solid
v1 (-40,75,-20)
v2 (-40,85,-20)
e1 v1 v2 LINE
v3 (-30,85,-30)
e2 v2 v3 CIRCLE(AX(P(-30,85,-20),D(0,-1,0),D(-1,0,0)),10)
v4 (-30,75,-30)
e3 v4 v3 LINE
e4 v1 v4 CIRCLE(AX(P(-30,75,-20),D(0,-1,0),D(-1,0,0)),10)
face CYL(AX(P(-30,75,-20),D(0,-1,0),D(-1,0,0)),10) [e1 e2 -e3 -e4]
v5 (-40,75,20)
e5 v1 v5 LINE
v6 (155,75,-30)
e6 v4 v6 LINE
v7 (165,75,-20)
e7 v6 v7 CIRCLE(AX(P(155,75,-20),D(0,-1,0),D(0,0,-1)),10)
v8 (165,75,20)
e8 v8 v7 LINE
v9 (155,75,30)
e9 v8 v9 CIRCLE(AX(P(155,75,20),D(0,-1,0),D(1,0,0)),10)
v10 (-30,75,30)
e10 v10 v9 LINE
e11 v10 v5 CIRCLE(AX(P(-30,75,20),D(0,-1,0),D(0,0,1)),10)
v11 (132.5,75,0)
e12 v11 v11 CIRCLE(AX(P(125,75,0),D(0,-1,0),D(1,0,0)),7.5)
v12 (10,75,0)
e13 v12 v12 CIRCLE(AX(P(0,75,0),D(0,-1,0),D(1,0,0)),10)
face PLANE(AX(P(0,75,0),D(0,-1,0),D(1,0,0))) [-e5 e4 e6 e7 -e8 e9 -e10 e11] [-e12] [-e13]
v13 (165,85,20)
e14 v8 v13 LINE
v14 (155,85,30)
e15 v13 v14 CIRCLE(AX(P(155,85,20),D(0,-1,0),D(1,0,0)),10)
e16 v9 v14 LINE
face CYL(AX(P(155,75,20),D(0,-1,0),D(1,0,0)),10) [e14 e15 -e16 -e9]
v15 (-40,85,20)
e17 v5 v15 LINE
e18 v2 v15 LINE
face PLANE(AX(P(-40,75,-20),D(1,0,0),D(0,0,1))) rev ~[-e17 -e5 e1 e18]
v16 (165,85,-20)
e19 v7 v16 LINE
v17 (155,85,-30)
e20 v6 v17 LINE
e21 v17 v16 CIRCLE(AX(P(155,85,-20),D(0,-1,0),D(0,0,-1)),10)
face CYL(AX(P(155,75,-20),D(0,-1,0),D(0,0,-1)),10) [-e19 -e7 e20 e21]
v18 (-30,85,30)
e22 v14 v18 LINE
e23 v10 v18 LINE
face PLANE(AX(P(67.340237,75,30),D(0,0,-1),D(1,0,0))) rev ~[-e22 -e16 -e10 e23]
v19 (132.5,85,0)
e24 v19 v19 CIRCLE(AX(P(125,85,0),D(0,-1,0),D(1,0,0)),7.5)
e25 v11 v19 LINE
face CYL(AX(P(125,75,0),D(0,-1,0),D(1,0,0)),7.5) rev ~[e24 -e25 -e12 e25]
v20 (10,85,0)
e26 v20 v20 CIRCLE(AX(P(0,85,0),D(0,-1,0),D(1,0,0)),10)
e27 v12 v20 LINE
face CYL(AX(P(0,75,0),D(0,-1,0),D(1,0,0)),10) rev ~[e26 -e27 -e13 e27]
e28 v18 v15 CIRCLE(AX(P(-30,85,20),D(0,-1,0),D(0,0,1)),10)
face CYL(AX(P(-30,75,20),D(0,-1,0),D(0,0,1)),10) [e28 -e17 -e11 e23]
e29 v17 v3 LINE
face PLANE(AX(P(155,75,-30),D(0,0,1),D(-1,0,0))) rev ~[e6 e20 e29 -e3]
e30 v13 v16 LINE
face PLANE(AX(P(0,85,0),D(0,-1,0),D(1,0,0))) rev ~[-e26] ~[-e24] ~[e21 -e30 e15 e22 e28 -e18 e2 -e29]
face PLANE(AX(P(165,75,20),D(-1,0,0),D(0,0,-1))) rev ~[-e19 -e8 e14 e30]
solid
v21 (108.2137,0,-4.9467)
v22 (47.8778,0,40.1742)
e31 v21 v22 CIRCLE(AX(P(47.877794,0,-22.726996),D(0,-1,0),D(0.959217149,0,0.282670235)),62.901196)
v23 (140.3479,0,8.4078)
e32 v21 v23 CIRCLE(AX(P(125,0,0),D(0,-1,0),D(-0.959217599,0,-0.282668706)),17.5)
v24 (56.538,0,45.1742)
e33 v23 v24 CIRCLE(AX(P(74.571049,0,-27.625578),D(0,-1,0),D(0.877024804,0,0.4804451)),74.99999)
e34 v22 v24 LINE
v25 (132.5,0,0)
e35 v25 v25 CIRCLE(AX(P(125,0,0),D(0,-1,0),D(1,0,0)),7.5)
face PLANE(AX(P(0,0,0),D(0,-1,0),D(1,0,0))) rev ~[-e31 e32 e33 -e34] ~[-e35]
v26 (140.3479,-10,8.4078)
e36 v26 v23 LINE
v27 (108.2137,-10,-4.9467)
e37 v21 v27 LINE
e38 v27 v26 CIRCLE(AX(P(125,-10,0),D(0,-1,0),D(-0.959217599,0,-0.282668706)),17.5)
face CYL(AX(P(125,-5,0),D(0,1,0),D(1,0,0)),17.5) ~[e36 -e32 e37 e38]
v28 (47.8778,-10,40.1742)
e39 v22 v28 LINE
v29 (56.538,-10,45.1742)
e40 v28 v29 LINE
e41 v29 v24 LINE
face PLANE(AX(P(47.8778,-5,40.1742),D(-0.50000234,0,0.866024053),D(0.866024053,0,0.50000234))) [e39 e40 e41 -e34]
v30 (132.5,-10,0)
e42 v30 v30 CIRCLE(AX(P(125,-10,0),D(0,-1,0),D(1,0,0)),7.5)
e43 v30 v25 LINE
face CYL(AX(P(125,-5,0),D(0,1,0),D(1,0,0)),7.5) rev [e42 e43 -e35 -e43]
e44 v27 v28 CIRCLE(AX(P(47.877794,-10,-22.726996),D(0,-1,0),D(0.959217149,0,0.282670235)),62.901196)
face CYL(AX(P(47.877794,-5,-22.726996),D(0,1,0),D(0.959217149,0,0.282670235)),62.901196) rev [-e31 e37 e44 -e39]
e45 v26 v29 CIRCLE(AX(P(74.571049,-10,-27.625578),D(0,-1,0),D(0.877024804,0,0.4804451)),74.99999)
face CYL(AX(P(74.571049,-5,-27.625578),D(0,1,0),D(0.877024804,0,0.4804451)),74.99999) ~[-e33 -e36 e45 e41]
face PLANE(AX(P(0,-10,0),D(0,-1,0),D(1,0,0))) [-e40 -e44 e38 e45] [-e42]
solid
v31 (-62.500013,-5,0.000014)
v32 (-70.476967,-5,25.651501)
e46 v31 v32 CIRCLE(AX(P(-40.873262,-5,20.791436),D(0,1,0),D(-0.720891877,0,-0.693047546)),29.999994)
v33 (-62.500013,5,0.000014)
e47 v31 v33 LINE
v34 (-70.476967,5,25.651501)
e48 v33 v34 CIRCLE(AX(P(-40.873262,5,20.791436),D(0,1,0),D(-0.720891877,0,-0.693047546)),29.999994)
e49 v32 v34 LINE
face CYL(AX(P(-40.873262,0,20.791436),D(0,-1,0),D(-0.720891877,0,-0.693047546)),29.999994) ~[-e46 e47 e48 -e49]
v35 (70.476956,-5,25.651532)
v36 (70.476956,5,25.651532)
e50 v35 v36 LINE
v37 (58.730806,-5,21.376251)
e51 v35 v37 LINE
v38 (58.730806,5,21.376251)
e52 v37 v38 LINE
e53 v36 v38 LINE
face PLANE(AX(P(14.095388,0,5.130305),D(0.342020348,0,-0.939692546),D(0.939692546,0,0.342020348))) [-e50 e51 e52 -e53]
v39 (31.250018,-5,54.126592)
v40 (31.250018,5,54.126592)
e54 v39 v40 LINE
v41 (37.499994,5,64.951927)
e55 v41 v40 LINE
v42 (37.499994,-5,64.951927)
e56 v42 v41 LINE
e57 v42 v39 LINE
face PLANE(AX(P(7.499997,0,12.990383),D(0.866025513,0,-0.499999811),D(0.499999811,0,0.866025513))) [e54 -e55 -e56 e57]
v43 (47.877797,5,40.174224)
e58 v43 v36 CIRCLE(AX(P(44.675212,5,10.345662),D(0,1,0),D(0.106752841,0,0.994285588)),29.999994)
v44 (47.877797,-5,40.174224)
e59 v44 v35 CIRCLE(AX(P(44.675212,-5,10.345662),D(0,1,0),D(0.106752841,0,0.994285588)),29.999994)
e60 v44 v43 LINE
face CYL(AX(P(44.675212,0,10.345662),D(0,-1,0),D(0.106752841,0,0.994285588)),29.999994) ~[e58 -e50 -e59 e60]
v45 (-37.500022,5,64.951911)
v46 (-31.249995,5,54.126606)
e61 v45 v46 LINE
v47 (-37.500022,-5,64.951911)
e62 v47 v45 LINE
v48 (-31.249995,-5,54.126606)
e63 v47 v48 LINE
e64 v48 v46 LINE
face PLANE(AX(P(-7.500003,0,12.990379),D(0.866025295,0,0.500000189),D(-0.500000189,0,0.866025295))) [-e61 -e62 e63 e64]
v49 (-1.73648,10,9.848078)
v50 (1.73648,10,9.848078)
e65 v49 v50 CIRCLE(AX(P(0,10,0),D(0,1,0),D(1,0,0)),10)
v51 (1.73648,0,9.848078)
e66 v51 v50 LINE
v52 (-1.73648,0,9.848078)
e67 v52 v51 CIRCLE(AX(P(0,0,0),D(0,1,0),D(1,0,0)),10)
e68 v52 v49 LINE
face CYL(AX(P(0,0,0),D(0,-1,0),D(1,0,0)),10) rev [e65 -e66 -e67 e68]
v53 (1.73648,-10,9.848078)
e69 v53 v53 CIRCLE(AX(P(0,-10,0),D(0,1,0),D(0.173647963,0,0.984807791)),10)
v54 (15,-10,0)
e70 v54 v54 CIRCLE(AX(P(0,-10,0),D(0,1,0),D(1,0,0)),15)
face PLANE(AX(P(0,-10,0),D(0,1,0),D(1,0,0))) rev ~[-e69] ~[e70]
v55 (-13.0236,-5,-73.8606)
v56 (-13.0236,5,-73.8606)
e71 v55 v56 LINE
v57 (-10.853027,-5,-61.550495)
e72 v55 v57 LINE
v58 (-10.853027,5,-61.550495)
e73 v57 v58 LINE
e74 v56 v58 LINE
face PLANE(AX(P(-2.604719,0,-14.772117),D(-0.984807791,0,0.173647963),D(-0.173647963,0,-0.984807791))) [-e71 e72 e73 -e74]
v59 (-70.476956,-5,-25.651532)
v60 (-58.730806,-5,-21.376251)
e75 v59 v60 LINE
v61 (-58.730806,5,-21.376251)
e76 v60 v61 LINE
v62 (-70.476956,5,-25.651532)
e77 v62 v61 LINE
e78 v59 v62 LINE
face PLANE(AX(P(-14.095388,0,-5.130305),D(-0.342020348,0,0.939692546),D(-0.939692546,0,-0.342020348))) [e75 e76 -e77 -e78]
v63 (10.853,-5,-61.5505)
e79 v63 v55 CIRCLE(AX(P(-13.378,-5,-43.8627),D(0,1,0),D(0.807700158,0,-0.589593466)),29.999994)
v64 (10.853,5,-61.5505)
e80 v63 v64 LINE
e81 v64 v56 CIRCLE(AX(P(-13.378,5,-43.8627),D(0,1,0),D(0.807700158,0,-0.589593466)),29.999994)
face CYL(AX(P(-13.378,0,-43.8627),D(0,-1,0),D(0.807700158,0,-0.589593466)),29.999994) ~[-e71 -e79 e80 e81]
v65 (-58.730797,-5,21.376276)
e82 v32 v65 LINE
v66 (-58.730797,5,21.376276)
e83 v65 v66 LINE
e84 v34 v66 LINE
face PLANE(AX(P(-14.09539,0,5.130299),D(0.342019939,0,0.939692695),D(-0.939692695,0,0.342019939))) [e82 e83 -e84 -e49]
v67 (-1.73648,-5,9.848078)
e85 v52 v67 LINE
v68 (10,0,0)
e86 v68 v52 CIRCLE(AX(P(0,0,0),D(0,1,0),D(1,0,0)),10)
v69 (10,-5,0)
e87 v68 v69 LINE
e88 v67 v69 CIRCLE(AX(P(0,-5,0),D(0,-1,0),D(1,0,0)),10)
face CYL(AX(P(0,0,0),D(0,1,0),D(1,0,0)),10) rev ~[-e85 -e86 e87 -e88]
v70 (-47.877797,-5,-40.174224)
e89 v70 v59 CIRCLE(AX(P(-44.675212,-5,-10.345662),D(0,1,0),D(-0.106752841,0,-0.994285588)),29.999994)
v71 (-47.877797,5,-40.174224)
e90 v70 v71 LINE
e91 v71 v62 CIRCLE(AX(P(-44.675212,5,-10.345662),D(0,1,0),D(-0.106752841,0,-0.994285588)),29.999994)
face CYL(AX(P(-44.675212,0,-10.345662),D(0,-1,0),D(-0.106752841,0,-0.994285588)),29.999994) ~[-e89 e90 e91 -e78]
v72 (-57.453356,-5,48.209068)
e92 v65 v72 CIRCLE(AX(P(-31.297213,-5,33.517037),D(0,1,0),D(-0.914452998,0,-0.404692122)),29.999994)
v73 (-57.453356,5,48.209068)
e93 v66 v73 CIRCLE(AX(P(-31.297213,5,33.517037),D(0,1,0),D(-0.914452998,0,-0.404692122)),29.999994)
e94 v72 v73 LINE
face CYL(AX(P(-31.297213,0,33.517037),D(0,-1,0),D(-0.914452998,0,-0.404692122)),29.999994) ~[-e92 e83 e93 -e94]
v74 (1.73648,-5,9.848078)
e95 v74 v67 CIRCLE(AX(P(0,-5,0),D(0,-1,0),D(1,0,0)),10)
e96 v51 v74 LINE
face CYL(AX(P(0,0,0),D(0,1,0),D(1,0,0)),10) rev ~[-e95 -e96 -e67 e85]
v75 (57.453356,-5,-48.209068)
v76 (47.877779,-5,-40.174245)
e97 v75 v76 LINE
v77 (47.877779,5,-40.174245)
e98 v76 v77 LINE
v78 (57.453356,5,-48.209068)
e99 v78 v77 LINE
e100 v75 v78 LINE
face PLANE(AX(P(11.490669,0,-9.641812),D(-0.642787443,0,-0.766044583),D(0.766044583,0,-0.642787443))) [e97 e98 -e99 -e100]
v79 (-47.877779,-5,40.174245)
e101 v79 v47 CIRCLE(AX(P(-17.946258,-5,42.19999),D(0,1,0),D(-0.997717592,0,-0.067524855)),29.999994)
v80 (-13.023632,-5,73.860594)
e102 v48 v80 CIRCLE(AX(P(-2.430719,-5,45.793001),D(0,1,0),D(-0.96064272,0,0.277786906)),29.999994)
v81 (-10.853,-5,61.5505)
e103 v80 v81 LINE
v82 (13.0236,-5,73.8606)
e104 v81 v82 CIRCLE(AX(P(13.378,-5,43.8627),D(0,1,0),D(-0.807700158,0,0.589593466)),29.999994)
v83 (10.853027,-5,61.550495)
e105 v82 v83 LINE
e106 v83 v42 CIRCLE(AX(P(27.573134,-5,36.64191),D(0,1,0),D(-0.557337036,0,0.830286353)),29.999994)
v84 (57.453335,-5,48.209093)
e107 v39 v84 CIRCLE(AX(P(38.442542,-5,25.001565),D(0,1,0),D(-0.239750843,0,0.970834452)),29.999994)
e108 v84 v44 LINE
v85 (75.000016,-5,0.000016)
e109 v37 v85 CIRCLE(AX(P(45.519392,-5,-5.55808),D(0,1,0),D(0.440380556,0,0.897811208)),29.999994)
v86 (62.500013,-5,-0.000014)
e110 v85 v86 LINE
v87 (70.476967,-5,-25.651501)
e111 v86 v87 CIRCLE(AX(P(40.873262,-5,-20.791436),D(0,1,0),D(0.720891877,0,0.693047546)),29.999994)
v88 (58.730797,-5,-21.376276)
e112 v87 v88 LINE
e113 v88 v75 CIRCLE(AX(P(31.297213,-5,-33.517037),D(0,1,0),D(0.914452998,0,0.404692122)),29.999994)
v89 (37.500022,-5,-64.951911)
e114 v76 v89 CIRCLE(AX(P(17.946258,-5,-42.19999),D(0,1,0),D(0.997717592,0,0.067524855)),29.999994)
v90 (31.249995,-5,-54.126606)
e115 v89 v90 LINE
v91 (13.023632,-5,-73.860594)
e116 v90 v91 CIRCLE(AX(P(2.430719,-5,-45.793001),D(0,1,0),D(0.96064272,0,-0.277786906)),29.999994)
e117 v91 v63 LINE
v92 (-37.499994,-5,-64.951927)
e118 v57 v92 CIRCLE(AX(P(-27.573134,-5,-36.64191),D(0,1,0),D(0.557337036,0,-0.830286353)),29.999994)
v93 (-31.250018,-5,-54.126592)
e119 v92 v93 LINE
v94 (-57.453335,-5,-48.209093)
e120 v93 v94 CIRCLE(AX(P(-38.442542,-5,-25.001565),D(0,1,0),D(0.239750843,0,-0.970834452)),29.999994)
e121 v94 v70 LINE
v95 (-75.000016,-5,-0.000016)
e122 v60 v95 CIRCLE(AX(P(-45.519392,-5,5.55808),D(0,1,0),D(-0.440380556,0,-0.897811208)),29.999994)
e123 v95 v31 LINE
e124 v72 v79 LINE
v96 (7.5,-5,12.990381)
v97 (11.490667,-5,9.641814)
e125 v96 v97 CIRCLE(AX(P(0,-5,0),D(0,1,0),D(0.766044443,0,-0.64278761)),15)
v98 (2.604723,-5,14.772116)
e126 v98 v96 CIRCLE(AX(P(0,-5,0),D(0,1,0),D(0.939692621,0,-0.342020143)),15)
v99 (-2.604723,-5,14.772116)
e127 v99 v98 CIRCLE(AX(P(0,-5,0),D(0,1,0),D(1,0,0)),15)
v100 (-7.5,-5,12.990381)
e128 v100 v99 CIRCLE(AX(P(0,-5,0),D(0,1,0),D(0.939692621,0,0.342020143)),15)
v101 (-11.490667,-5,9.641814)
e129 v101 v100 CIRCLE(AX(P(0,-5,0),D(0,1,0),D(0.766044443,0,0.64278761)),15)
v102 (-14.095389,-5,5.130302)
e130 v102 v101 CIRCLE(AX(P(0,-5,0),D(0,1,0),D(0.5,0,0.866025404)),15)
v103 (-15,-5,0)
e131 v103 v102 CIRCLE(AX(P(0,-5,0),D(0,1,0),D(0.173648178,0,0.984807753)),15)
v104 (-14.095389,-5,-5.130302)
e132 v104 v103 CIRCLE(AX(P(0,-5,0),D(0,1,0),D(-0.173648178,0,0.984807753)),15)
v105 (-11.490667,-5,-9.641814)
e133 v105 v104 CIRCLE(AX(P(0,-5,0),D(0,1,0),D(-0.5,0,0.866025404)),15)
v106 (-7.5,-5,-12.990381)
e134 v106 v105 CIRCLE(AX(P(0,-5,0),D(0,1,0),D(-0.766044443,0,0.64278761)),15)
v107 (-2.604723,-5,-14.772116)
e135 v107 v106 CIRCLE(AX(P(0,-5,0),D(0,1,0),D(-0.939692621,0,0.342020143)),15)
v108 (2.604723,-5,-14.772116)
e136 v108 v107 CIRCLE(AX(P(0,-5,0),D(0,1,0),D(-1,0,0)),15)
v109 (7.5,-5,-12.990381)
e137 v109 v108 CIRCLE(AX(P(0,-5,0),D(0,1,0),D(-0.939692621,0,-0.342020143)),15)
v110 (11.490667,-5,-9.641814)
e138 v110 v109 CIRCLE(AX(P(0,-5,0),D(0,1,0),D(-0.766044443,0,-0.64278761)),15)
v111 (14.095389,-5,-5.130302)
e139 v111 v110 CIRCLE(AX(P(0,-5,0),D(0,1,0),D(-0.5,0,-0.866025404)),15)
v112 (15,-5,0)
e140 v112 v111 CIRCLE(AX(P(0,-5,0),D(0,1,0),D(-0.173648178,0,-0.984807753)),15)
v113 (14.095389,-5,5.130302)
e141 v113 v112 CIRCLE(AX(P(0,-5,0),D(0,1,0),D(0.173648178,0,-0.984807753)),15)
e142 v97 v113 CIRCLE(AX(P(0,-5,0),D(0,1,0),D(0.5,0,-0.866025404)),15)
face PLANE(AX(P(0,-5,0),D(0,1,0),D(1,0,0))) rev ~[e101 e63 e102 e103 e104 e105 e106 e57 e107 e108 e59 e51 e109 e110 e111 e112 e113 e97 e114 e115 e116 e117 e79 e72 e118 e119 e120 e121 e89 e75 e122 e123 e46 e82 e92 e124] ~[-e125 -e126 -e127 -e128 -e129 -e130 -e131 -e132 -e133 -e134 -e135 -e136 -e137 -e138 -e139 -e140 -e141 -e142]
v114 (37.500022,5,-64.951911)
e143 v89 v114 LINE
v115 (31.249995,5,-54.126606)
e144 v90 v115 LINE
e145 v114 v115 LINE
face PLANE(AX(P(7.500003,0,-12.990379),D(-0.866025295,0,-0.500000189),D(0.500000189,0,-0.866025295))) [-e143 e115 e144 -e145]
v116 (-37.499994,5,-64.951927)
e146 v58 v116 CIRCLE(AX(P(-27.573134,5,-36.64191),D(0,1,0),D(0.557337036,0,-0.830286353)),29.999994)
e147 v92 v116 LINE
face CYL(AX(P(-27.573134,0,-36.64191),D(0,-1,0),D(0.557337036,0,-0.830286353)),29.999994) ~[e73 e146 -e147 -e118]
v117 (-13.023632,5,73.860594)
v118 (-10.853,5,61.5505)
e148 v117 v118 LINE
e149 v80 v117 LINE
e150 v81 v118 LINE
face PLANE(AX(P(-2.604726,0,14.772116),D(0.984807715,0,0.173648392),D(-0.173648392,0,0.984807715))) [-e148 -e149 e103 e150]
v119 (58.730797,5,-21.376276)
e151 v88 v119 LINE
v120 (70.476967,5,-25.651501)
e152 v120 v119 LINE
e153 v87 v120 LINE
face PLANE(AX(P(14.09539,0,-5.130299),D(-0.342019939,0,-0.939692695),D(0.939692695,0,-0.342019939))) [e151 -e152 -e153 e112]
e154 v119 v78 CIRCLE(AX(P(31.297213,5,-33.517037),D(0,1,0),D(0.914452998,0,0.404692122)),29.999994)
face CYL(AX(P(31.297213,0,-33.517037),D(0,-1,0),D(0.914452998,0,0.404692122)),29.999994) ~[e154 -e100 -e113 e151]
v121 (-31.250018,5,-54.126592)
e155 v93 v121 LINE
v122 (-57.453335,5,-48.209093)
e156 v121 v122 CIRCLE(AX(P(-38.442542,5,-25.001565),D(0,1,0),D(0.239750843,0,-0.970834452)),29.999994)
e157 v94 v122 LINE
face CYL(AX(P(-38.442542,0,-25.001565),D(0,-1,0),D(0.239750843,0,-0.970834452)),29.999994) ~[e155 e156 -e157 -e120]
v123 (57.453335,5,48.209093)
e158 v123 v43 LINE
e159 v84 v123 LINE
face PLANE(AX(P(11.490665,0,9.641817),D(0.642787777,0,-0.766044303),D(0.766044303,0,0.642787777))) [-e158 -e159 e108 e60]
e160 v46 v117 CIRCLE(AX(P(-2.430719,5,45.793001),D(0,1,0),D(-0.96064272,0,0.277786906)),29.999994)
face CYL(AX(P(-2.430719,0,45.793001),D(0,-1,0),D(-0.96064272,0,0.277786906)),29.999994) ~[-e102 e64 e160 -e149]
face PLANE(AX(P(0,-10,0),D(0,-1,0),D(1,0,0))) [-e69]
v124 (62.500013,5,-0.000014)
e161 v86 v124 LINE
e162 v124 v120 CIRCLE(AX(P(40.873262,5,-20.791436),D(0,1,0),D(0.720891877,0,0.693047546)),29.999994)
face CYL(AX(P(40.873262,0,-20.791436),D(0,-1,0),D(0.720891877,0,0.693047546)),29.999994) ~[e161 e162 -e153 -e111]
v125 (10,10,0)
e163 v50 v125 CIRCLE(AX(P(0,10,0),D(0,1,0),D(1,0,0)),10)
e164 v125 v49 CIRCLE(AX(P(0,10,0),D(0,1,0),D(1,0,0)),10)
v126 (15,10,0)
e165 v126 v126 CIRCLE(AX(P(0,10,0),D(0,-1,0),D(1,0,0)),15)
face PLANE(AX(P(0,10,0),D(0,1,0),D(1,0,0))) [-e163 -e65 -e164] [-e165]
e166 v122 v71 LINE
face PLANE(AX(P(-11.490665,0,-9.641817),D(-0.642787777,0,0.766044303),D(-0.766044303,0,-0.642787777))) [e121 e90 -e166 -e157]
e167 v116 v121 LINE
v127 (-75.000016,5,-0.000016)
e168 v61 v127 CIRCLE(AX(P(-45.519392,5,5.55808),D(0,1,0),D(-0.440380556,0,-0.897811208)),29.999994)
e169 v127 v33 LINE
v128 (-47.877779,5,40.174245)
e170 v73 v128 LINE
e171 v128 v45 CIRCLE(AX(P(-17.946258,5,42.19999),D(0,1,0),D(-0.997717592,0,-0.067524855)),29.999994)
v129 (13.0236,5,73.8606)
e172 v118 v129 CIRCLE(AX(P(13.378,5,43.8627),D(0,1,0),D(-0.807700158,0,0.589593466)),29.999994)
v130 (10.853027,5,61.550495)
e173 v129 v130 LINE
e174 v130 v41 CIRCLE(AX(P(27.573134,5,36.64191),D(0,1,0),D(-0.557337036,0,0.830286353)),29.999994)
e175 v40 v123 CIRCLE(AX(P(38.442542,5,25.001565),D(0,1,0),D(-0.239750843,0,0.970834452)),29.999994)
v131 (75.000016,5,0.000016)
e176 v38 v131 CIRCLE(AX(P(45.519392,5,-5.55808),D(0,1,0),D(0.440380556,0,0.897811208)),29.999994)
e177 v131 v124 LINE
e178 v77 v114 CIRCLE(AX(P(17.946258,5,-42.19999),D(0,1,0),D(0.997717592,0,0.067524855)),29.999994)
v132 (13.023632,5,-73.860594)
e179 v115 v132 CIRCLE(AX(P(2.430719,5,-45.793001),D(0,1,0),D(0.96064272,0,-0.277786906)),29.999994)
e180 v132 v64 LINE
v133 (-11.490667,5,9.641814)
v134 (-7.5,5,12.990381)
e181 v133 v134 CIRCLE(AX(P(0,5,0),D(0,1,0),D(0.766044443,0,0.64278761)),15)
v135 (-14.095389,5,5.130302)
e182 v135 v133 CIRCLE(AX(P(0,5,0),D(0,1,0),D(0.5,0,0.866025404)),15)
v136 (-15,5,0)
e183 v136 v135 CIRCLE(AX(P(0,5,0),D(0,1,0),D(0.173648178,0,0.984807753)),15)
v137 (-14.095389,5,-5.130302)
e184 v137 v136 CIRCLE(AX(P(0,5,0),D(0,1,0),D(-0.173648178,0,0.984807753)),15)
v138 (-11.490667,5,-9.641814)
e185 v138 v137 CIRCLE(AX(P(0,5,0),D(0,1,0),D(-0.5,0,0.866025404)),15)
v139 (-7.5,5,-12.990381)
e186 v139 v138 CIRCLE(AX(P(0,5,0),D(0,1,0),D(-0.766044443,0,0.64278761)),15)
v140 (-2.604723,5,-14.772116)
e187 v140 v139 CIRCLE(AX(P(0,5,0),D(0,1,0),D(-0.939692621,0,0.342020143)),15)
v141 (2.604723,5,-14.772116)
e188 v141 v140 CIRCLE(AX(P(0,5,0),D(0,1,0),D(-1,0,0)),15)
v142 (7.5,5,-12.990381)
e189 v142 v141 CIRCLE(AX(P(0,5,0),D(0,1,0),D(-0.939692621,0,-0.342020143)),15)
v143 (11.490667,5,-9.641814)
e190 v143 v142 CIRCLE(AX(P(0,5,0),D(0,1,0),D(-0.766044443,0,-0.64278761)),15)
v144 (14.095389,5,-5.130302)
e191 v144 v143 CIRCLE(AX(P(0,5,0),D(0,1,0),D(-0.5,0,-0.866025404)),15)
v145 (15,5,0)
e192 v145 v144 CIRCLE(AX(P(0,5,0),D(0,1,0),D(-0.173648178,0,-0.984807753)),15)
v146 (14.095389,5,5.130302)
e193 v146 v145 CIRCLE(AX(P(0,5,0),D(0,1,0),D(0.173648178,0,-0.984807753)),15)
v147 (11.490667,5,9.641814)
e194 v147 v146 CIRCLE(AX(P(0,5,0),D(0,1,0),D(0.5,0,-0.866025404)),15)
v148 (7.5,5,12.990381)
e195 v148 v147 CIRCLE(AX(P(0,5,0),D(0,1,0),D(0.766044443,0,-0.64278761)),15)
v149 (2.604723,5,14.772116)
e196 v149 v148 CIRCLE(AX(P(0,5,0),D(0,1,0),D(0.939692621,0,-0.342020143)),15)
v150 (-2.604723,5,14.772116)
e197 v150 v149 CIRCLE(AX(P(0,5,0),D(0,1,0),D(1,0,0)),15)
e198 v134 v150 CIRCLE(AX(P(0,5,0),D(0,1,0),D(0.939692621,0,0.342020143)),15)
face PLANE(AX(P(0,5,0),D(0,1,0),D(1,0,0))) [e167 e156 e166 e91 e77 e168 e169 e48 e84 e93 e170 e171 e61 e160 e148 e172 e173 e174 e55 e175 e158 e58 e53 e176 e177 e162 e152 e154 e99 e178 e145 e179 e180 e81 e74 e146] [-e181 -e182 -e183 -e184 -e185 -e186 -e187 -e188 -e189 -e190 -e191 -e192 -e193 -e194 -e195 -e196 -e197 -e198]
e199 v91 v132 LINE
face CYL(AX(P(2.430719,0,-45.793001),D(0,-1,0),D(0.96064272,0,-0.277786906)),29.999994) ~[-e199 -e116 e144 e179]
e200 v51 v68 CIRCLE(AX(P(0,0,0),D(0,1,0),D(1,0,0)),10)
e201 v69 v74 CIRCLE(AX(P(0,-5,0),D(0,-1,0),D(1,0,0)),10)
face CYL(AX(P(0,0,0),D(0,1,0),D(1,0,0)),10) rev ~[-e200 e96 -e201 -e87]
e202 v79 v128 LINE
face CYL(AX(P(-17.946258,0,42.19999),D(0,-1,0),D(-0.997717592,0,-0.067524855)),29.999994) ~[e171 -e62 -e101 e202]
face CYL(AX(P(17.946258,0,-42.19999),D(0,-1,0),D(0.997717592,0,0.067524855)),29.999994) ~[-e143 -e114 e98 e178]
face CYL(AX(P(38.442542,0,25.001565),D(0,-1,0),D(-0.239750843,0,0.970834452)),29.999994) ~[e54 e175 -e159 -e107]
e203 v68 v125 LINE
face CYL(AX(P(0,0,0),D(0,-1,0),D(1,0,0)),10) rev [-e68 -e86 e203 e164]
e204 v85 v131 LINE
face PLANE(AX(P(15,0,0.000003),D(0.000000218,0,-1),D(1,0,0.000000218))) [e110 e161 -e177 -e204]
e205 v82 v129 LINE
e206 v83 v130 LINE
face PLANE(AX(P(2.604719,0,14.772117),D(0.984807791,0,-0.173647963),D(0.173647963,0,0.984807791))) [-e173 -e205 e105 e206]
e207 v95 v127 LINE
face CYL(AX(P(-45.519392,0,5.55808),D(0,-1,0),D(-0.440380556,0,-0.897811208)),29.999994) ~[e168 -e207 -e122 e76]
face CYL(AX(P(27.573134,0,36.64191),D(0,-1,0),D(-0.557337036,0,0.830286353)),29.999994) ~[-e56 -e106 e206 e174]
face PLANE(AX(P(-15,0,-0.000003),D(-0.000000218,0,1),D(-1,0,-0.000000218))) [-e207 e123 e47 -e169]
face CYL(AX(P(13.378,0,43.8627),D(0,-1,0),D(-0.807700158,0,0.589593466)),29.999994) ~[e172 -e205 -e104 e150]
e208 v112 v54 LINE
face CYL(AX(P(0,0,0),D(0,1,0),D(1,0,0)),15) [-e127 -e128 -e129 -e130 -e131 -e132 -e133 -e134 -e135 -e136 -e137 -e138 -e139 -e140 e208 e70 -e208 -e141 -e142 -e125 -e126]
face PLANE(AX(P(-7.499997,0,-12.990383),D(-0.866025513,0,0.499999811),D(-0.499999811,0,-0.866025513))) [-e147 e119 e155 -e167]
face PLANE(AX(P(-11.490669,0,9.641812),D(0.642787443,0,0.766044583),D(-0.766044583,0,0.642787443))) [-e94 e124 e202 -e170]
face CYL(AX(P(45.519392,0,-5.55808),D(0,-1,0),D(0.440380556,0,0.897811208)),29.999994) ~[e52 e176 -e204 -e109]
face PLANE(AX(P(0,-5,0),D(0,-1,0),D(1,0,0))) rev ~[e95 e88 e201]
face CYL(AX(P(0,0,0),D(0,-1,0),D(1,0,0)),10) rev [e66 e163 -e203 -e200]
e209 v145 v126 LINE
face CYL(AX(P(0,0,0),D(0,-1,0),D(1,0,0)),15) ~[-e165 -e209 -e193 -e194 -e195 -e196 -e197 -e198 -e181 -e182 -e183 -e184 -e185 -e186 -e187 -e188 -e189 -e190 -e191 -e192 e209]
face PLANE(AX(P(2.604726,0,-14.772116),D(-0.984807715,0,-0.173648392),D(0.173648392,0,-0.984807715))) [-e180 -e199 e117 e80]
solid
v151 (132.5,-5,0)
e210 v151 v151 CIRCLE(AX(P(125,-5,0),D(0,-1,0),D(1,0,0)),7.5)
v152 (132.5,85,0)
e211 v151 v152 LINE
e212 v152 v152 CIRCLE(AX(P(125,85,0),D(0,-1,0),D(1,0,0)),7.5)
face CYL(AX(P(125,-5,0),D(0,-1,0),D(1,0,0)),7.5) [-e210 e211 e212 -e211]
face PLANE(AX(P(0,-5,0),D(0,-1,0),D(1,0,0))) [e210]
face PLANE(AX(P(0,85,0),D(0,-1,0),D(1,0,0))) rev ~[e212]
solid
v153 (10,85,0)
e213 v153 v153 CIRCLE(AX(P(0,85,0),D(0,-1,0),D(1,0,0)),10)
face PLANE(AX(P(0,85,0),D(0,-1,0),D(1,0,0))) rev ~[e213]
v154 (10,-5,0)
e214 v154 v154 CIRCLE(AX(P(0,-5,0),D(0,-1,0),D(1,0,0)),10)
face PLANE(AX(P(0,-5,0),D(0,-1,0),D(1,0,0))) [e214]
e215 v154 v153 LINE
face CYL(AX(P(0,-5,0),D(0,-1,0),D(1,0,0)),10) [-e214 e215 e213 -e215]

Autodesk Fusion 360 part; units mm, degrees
sketch "Sketch1" plane through (0, 0, 0) normal (0, 1, 0) x (1, 0, 0) in component "ratchet"
  circle A0 centre (0, 0) radius 62.5
  circle A1 centre (0, 0) radius 10
  circle A2 centre (0, 0) radius 15
  circle A3 centre (0, 0) radius 75
  line L0 (0, 0) -> (13.0236, -73.8606)
  line L1 (0, 0) -> (75, 0) construction
  line L2 (0, 0) -> (-10.853, -61.5505)
  arc A4 (-10.853, -61.5505) -> (13.0236, -73.8606) centre (13.378, -43.8627) ccw
  dimension "d1" = 125
  dimension "d2" = 20
  dimension "d3" = 30
  dimension "d4" = 12.5
  dimension "d5" = 80
  dimension "d6" = 20
  dimension "d7" = 30
extrude "Extrude1" add sketch "Sketch1" along normal mid plane 10 contours A0 A2 L0 L2 | A0 L0 A4 picked at (5.1197, -46.3065) makes body 1 in component "ratchet"
pattern_circular "C-Pattern1" count 18 over 360 about axis through (0, -5, 0) along (0, 1, 0) of bodies 1 makes body 2 at (18.6177, 5, 46.4976) makes body 3 at (33.398, -5, 37.3258) makes body 4 at (44.15, 5, 23.652) makes body 5 at (49.5769, 5, 7.1254) makes body 6 at (49.0241, 5, -10.2606) makes body 7 at (42.5583, 5, -26.409) makes body 8 at (30.9593, 5, -39.3722) makes body 9 at (15.6261, 5, -47.5864) makes body 10 at (-1.5918, 5, -50.0611) makes body 11 at (-18.6177, 5, -46.4976) makes body 12 at (-33.398, 5, -37.3258) makes body 13 at (-44.15, 5, -23.652) makes body 14 at (-49.5769, 5, -7.1254) makes body 15 at (-49.0241, 5, 10.2606) makes body 16 at (-42.5583, 5, 26.409) makes body 17 at (-30.9593, 5, 39.3722) makes body 18 at (-15.6261, 5, 47.5864) in component "ratchet"
extrude "Extrude2" add sketch "Sketch1" along normal mid plane 20 contours A1 A2 L0 L2 | A1 A2 L0 L2 bodies 1 2 3 4 5 6 7 8 9 10 11 12 13 14 15 16 17 18 in component "ratchet"
sketch "Sketch1 (2)" plane through (0, -5, 0) normal (0, -1, 0) x (1, 0, 0) in component "paw"
  line L0 (-31.25, 54.1266) -> (-37.5, 64.9519)
  arc A0 (-37.5, 64.9519) -> (-47.8778, 40.1742) centre (-17.9462, 42.2) ccw
  line L1 (-47.8778, 40.1742) -> (-57.4533, 48.2091)
  arc A1 (-57.4533, 48.2091) -> (-58.7308, 21.3763) centre (-31.2972, 33.517) ccw
  line L2 (-58.7308, 21.3763) -> (-70.4769, 25.6515)
  arc A2 (-70.4769, 25.6515) -> (-62.5, 0) centre (-40.8732, 20.7914) ccw
  line L3 (-62.5, 0) -> (-75, 0)
  arc A3 (-75, 0) -> (-58.7308, -21.3763) centre (-45.5194, 5.5581) ccw
  line L4 (-58.7308, -21.3763) -> (-70.4769, -25.6515)
  arc A4 (-70.4769, -25.6515) -> (-47.8778, -40.1742) centre (-44.6752, -10.3457) ccw
  line L5 (-47.8778, -40.1742) -> (-57.4533, -48.2091)
  arc A5 (-57.4533, -48.2091) -> (-31.25, -54.1266) centre (-38.4425, -25.0016) ccw
  line L6 (-31.25, -54.1266) -> (-37.5, -64.9519)
  arc A6 (-37.5, -64.9519) -> (-10.853, -61.5505) centre (-27.5731, -36.6419) ccw
  line L7 (-10.853, -61.5505) -> (-13.0236, -73.8606)
  arc A7 (-13.0236, -73.8606) -> (10.853, -61.5505) centre (-13.378, -43.8627) ccw
  line L8 (10.853, -61.5505) -> (13.0236, -73.8606)
  arc A8 (13.0236, -73.8606) -> (31.25, -54.1266) centre (2.4307, -45.793) ccw
  line L9 (31.25, -54.1266) -> (37.5, -64.9519)
  arc A9 (37.5, -64.9519) -> (47.8778, -40.1742) centre (17.9462, -42.2) ccw
  line L10 (47.8778, -40.1742) -> (57.4533, -48.2091)
  arc A10 (57.4533, -48.2091) -> (58.7308, -21.3763) centre (31.2972, -33.517) ccw
  line L11 (58.7308, -21.3763) -> (70.4769, -25.6515)
  arc A11 (70.4769, -25.6515) -> (62.5, 0) centre (40.8732, -20.7914) ccw
  line L12 (62.5, 0) -> (75, 0)
  arc A12 (75, 0) -> (58.7308, 21.3763) centre (45.5194, -5.5581) ccw
  line L13 (58.7308, 21.3763) -> (70.4769, 25.6515)
  arc A13 (70.4769, 25.6515) -> (47.8778, 40.1742) centre (44.6752, 10.3457) ccw
  line L14 (47.8778, 40.1742) -> (57.4533, 48.2091)
  arc A14 (57.4533, 48.2091) -> (31.25, 54.1266) centre (38.4425, 25.0016) ccw
  line L15 (31.25, 54.1266) -> (37.5, 64.9519)
  arc A15 (37.5, 64.9519) -> (10.853, 61.5505) centre (27.5731, 36.6419) ccw
  line L16 (10.853, 61.5505) -> (13.0236, 73.8606)
  arc A16 (13.0236, 73.8606) -> (-10.853, 61.5505) centre (13.378, 43.8627) ccw
  line L17 (-10.853, 61.5505) -> (-13.0236, 73.8606)
  arc A17 (-13.0236, 73.8606) -> (-31.25, 54.1266) centre (-2.4307, 45.793) ccw
  circle A18 centre (0, 0) radius 15
  circle A19 centre (0, 0) radius 10
  line L18 (-13.0236, 73.8606) -> (-10.853, 61.5505)
  arc A20 (-13.0236, 73.8606) -> (-31.25, 54.1266) centre (-2.4307, 45.793) ccw
  line L19 (-37.5, 64.9519) -> (-31.25, 54.1266)
  arc A21 (-37.5, 64.9519) -> (-47.8778, 40.1742) centre (-17.9462, 42.2) ccw
  line L20 (-57.4533, 48.2091) -> (-47.8778, 40.1742)
  arc A22 (-57.4533, 48.2091) -> (-58.7308, 21.3763) centre (-31.2972, 33.517) ccw
  line L21 (-70.4769, 25.6515) -> (-58.7308, 21.3763)
  arc A23 (-70.4769, 25.6515) -> (-62.5, 0) centre (-40.8732, 20.7914) ccw
  line L22 (-75, 0) -> (-62.5, 0)
  arc A24 (-75, 0) -> (-58.7308, -21.3763) centre (-45.5194, 5.5581) ccw
  line L23 (-70.4769, -25.6515) -> (-58.7308, -21.3763)
  arc A25 (-70.4769, -25.6515) -> (-47.8778, -40.1742) centre (-44.6752, -10.3457) ccw
  line L24 (-57.4533, -48.2091) -> (-47.8778, -40.1742)
  arc A26 (-57.4533, -48.2091) -> (-31.25, -54.1266) centre (-38.4425, -25.0016) ccw
  line L25 (-37.5, -64.9519) -> (-31.25, -54.1266)
  arc A27 (-37.5, -64.9519) -> (-10.853, -61.5505) centre (-27.5731, -36.6419) ccw
  line L26 (-13.0236, -73.8606) -> (-10.853, -61.5505)
  arc A28 (-13.0236, -73.8606) -> (10.853, -61.5505) centre (-13.378, -43.8627) ccw
  line L27 (13.0236, -73.8606) -> (10.853, -61.5505)
  arc A29 (13.0236, -73.8606) -> (31.25, -54.1266) centre (2.4307, -45.793) ccw
  line L28 (37.5, -64.9519) -> (31.25, -54.1266)
  arc A30 (37.5, -64.9519) -> (47.8778, -40.1742) centre (17.9462, -42.2) ccw
  line L29 (57.4533, -48.2091) -> (47.8778, -40.1742)
  arc A31 (57.4533, -48.2091) -> (58.7308, -21.3763) centre (31.2972, -33.517) ccw
  line L30 (70.4769, -25.6515) -> (58.7308, -21.3763)
  arc A32 (70.4769, -25.6515) -> (62.5, 0) centre (40.8732, -20.7914) ccw
  line L31 (75, 0) -> (62.5, 0)
  arc A33 (75, 0) -> (58.7308, 21.3763) centre (45.5194, -5.5581) ccw
  line L32 (70.4769, 25.6515) -> (58.7308, 21.3763)
  arc A34 (70.4769, 25.6515) -> (47.8778, 40.1742) centre (44.6752, 10.3457) ccw
  line L33 (57.4533, 48.2091) -> (47.8778, 40.1742)
  arc A35 (57.4533, 48.2091) -> (31.25, 54.1266) centre (38.4425, 25.0016) ccw
  line L34 (37.5, 64.9519) -> (31.25, 54.1266)
  arc A36 (37.5, 64.9519) -> (10.853, 61.5505) centre (27.5731, 36.6419) ccw
  line L35 (13.0236, 73.8606) -> (10.853, 61.5505)
  arc A37 (13.0236, 73.8606) -> (-10.853, 61.5505) centre (13.378, 43.8627) ccw
  circle A38 centre (125, 0) radius 7.5
  circle A39 centre (125, 0) radius 17.5
  line L36 (47.8778, 40.1742) -> (149.9857, 40.1742) construction
  line L37 (47.8778, 40.1742) -> (56.538, 45.1742)
  arc A40 (108.2137, -4.9467) -> (47.8778, 40.1742) centre (47.8778, -22.727) ccw
  arc A41 (140.3479, 8.4078) -> (56.538, 45.1742) centre (74.5711, -27.6256) ccw
  dimension "d14" = 15
  dimension "d15" = 35
  dimension "d16" = 10
  dimension "d17" = 125
  dimension "d18" = 75
  dimension "d19" = 30
extrude "Extrude1'" add sketch "Sketch1 (2)" along normal mid plane 10 separate body contours A39 L37 A40 A41 | A39 makes body 19 in component "paw"
sketch "Sketch1 (3)" plane through (0, -5, 0) normal (0, -1, 0) x (1, 0, 0) in component "base"
  line L0 (-31.25, 54.1266) -> (-37.5, 64.9519)
  arc A0 (-37.5, 64.9519) -> (-47.8778, 40.1742) centre (-17.9462, 42.2) ccw
  line L1 (-47.8778, 40.1742) -> (-57.4533, 48.2091)
  arc A1 (-57.4533, 48.2091) -> (-58.7308, 21.3763) centre (-31.2972, 33.517) ccw
  line L2 (-58.7308, 21.3763) -> (-70.4769, 25.6515)
  arc A2 (-70.4769, 25.6515) -> (-62.5, 0) centre (-40.8732, 20.7914) ccw
  line L3 (-62.5, 0) -> (-75, 0)
  arc A3 (-75, 0) -> (-58.7308, -21.3763) centre (-45.5194, 5.5581) ccw
  line L4 (-58.7308, -21.3763) -> (-70.4769, -25.6515)
  arc A4 (-70.4769, -25.6515) -> (-47.8778, -40.1742) centre (-44.6752, -10.3457) ccw
  line L5 (-47.8778, -40.1742) -> (-57.4533, -48.2091)
  arc A5 (-57.4533, -48.2091) -> (-31.25, -54.1266) centre (-38.4425, -25.0016) ccw
  line L6 (-31.25, -54.1266) -> (-37.5, -64.9519)
  arc A6 (-37.5, -64.9519) -> (-10.853, -61.5505) centre (-27.5731, -36.6419) ccw
  line L7 (-10.853, -61.5505) -> (-13.0236, -73.8606)
  arc A7 (-13.0236, -73.8606) -> (10.853, -61.5505) centre (-13.378, -43.8627) ccw
  line L8 (10.853, -61.5505) -> (13.0236, -73.8606)
  arc A8 (13.0236, -73.8606) -> (31.25, -54.1266) centre (2.4307, -45.793) ccw
  line L9 (31.25, -54.1266) -> (37.5, -64.9519)
  arc A9 (37.5, -64.9519) -> (47.8778, -40.1742) centre (17.9462, -42.2) ccw
  line L10 (47.8778, -40.1742) -> (57.4533, -48.2091)
  arc A10 (57.4533, -48.2091) -> (58.7308, -21.3763) centre (31.2972, -33.517) ccw
  line L11 (58.7308, -21.3763) -> (70.4769, -25.6515)
  arc A11 (70.4769, -25.6515) -> (62.5, 0) centre (40.8732, -20.7914) ccw
  line L12 (62.5, 0) -> (75, 0)
  arc A12 (75, 0) -> (58.7308, 21.3763) centre (45.5194, -5.5581) ccw
  line L13 (58.7308, 21.3763) -> (70.4769, 25.6515)
  arc A13 (70.4769, 25.6515) -> (47.8778, 40.1742) centre (44.6752, 10.3457) ccw
  line L14 (47.8778, 40.1742) -> (57.4533, 48.2091)
  arc A14 (57.4533, 48.2091) -> (31.25, 54.1266) centre (38.4425, 25.0016) ccw
  line L15 (31.25, 54.1266) -> (37.5, 64.9519)
  arc A15 (37.5, 64.9519) -> (10.853, 61.5505) centre (27.5731, 36.6419) ccw
  line L16 (10.853, 61.5505) -> (13.0236, 73.8606)
  arc A16 (13.0236, 73.8606) -> (-10.853, 61.5505) centre (13.378, 43.8627) ccw
  line L17 (-10.853, 61.5505) -> (-13.0236, 73.8606)
  arc A17 (-13.0236, 73.8606) -> (-31.25, 54.1266) centre (-2.4307, 45.793) ccw
  circle A18 centre (0, 0) radius 15
  line L18 (-30, 30) -> (155, 30)
  line L19 (165, 20) -> (165, -20)
  line L20 (155, -30) -> (-30, -30)
  line L21 (-40, -20) -> (-40, 20)
  circle A19 centre (125, 0) radius 7.5
  arc A20 (-30, 30) -> (-40, 20) centre (-30, 20) ccw
  arc A21 (-40, -20) -> (-30, -30) centre (-30, -20) ccw
  arc A22 (165, 20) -> (155, 30) centre (155, 20) ccw
  arc A23 (155, -30) -> (165, -20) centre (155, -20) ccw
  circle A24 centre (0, 0) radius 10
  dimension "d22" = 40
  dimension "d23" = 30
  dimension "d24" = 30
  dimension "d25" = 40
  dimension "d26" = 10
extrude "Extrude1''" add sketch "Sketch1 (3)" against normal blind 10 from surface at -80 separate body contours A10 L11 A11 L12 A12 L13 A13 L18 L19 L20 A22 A23 | A10 L11 A11 L12 A12 L13 A13 L18 L20 L21 A20 A21 | A18 makes body 20 in component "base"
extrude "Extrude2'" add sketch "Sketch1 (3)" against normal blind 90 separate body contours A19 | A24 makes body 21 at (9.9876, 55, -0.4985) makes body 22 at (132.4907, 55, -0.3738) in component "base"
extrude "Extrude3" add sketch "Sketch1 (3)" along normal blind 5 contours A24 bodies 1 in component "ratchet"
component "paw" placed x (1, 0, 0) y (0, 1, 0) z (0, 0, 1) at (0, 0, 0)
component "base" placed x (1, 0, 0) y (0, 1, 0) z (0, 0, 1) at (0, 0, 0)
component "ratchet" placed x (1, 0, 0) y (0, 1, 0) z (0, 0, 1) at (0, 0, 0)
